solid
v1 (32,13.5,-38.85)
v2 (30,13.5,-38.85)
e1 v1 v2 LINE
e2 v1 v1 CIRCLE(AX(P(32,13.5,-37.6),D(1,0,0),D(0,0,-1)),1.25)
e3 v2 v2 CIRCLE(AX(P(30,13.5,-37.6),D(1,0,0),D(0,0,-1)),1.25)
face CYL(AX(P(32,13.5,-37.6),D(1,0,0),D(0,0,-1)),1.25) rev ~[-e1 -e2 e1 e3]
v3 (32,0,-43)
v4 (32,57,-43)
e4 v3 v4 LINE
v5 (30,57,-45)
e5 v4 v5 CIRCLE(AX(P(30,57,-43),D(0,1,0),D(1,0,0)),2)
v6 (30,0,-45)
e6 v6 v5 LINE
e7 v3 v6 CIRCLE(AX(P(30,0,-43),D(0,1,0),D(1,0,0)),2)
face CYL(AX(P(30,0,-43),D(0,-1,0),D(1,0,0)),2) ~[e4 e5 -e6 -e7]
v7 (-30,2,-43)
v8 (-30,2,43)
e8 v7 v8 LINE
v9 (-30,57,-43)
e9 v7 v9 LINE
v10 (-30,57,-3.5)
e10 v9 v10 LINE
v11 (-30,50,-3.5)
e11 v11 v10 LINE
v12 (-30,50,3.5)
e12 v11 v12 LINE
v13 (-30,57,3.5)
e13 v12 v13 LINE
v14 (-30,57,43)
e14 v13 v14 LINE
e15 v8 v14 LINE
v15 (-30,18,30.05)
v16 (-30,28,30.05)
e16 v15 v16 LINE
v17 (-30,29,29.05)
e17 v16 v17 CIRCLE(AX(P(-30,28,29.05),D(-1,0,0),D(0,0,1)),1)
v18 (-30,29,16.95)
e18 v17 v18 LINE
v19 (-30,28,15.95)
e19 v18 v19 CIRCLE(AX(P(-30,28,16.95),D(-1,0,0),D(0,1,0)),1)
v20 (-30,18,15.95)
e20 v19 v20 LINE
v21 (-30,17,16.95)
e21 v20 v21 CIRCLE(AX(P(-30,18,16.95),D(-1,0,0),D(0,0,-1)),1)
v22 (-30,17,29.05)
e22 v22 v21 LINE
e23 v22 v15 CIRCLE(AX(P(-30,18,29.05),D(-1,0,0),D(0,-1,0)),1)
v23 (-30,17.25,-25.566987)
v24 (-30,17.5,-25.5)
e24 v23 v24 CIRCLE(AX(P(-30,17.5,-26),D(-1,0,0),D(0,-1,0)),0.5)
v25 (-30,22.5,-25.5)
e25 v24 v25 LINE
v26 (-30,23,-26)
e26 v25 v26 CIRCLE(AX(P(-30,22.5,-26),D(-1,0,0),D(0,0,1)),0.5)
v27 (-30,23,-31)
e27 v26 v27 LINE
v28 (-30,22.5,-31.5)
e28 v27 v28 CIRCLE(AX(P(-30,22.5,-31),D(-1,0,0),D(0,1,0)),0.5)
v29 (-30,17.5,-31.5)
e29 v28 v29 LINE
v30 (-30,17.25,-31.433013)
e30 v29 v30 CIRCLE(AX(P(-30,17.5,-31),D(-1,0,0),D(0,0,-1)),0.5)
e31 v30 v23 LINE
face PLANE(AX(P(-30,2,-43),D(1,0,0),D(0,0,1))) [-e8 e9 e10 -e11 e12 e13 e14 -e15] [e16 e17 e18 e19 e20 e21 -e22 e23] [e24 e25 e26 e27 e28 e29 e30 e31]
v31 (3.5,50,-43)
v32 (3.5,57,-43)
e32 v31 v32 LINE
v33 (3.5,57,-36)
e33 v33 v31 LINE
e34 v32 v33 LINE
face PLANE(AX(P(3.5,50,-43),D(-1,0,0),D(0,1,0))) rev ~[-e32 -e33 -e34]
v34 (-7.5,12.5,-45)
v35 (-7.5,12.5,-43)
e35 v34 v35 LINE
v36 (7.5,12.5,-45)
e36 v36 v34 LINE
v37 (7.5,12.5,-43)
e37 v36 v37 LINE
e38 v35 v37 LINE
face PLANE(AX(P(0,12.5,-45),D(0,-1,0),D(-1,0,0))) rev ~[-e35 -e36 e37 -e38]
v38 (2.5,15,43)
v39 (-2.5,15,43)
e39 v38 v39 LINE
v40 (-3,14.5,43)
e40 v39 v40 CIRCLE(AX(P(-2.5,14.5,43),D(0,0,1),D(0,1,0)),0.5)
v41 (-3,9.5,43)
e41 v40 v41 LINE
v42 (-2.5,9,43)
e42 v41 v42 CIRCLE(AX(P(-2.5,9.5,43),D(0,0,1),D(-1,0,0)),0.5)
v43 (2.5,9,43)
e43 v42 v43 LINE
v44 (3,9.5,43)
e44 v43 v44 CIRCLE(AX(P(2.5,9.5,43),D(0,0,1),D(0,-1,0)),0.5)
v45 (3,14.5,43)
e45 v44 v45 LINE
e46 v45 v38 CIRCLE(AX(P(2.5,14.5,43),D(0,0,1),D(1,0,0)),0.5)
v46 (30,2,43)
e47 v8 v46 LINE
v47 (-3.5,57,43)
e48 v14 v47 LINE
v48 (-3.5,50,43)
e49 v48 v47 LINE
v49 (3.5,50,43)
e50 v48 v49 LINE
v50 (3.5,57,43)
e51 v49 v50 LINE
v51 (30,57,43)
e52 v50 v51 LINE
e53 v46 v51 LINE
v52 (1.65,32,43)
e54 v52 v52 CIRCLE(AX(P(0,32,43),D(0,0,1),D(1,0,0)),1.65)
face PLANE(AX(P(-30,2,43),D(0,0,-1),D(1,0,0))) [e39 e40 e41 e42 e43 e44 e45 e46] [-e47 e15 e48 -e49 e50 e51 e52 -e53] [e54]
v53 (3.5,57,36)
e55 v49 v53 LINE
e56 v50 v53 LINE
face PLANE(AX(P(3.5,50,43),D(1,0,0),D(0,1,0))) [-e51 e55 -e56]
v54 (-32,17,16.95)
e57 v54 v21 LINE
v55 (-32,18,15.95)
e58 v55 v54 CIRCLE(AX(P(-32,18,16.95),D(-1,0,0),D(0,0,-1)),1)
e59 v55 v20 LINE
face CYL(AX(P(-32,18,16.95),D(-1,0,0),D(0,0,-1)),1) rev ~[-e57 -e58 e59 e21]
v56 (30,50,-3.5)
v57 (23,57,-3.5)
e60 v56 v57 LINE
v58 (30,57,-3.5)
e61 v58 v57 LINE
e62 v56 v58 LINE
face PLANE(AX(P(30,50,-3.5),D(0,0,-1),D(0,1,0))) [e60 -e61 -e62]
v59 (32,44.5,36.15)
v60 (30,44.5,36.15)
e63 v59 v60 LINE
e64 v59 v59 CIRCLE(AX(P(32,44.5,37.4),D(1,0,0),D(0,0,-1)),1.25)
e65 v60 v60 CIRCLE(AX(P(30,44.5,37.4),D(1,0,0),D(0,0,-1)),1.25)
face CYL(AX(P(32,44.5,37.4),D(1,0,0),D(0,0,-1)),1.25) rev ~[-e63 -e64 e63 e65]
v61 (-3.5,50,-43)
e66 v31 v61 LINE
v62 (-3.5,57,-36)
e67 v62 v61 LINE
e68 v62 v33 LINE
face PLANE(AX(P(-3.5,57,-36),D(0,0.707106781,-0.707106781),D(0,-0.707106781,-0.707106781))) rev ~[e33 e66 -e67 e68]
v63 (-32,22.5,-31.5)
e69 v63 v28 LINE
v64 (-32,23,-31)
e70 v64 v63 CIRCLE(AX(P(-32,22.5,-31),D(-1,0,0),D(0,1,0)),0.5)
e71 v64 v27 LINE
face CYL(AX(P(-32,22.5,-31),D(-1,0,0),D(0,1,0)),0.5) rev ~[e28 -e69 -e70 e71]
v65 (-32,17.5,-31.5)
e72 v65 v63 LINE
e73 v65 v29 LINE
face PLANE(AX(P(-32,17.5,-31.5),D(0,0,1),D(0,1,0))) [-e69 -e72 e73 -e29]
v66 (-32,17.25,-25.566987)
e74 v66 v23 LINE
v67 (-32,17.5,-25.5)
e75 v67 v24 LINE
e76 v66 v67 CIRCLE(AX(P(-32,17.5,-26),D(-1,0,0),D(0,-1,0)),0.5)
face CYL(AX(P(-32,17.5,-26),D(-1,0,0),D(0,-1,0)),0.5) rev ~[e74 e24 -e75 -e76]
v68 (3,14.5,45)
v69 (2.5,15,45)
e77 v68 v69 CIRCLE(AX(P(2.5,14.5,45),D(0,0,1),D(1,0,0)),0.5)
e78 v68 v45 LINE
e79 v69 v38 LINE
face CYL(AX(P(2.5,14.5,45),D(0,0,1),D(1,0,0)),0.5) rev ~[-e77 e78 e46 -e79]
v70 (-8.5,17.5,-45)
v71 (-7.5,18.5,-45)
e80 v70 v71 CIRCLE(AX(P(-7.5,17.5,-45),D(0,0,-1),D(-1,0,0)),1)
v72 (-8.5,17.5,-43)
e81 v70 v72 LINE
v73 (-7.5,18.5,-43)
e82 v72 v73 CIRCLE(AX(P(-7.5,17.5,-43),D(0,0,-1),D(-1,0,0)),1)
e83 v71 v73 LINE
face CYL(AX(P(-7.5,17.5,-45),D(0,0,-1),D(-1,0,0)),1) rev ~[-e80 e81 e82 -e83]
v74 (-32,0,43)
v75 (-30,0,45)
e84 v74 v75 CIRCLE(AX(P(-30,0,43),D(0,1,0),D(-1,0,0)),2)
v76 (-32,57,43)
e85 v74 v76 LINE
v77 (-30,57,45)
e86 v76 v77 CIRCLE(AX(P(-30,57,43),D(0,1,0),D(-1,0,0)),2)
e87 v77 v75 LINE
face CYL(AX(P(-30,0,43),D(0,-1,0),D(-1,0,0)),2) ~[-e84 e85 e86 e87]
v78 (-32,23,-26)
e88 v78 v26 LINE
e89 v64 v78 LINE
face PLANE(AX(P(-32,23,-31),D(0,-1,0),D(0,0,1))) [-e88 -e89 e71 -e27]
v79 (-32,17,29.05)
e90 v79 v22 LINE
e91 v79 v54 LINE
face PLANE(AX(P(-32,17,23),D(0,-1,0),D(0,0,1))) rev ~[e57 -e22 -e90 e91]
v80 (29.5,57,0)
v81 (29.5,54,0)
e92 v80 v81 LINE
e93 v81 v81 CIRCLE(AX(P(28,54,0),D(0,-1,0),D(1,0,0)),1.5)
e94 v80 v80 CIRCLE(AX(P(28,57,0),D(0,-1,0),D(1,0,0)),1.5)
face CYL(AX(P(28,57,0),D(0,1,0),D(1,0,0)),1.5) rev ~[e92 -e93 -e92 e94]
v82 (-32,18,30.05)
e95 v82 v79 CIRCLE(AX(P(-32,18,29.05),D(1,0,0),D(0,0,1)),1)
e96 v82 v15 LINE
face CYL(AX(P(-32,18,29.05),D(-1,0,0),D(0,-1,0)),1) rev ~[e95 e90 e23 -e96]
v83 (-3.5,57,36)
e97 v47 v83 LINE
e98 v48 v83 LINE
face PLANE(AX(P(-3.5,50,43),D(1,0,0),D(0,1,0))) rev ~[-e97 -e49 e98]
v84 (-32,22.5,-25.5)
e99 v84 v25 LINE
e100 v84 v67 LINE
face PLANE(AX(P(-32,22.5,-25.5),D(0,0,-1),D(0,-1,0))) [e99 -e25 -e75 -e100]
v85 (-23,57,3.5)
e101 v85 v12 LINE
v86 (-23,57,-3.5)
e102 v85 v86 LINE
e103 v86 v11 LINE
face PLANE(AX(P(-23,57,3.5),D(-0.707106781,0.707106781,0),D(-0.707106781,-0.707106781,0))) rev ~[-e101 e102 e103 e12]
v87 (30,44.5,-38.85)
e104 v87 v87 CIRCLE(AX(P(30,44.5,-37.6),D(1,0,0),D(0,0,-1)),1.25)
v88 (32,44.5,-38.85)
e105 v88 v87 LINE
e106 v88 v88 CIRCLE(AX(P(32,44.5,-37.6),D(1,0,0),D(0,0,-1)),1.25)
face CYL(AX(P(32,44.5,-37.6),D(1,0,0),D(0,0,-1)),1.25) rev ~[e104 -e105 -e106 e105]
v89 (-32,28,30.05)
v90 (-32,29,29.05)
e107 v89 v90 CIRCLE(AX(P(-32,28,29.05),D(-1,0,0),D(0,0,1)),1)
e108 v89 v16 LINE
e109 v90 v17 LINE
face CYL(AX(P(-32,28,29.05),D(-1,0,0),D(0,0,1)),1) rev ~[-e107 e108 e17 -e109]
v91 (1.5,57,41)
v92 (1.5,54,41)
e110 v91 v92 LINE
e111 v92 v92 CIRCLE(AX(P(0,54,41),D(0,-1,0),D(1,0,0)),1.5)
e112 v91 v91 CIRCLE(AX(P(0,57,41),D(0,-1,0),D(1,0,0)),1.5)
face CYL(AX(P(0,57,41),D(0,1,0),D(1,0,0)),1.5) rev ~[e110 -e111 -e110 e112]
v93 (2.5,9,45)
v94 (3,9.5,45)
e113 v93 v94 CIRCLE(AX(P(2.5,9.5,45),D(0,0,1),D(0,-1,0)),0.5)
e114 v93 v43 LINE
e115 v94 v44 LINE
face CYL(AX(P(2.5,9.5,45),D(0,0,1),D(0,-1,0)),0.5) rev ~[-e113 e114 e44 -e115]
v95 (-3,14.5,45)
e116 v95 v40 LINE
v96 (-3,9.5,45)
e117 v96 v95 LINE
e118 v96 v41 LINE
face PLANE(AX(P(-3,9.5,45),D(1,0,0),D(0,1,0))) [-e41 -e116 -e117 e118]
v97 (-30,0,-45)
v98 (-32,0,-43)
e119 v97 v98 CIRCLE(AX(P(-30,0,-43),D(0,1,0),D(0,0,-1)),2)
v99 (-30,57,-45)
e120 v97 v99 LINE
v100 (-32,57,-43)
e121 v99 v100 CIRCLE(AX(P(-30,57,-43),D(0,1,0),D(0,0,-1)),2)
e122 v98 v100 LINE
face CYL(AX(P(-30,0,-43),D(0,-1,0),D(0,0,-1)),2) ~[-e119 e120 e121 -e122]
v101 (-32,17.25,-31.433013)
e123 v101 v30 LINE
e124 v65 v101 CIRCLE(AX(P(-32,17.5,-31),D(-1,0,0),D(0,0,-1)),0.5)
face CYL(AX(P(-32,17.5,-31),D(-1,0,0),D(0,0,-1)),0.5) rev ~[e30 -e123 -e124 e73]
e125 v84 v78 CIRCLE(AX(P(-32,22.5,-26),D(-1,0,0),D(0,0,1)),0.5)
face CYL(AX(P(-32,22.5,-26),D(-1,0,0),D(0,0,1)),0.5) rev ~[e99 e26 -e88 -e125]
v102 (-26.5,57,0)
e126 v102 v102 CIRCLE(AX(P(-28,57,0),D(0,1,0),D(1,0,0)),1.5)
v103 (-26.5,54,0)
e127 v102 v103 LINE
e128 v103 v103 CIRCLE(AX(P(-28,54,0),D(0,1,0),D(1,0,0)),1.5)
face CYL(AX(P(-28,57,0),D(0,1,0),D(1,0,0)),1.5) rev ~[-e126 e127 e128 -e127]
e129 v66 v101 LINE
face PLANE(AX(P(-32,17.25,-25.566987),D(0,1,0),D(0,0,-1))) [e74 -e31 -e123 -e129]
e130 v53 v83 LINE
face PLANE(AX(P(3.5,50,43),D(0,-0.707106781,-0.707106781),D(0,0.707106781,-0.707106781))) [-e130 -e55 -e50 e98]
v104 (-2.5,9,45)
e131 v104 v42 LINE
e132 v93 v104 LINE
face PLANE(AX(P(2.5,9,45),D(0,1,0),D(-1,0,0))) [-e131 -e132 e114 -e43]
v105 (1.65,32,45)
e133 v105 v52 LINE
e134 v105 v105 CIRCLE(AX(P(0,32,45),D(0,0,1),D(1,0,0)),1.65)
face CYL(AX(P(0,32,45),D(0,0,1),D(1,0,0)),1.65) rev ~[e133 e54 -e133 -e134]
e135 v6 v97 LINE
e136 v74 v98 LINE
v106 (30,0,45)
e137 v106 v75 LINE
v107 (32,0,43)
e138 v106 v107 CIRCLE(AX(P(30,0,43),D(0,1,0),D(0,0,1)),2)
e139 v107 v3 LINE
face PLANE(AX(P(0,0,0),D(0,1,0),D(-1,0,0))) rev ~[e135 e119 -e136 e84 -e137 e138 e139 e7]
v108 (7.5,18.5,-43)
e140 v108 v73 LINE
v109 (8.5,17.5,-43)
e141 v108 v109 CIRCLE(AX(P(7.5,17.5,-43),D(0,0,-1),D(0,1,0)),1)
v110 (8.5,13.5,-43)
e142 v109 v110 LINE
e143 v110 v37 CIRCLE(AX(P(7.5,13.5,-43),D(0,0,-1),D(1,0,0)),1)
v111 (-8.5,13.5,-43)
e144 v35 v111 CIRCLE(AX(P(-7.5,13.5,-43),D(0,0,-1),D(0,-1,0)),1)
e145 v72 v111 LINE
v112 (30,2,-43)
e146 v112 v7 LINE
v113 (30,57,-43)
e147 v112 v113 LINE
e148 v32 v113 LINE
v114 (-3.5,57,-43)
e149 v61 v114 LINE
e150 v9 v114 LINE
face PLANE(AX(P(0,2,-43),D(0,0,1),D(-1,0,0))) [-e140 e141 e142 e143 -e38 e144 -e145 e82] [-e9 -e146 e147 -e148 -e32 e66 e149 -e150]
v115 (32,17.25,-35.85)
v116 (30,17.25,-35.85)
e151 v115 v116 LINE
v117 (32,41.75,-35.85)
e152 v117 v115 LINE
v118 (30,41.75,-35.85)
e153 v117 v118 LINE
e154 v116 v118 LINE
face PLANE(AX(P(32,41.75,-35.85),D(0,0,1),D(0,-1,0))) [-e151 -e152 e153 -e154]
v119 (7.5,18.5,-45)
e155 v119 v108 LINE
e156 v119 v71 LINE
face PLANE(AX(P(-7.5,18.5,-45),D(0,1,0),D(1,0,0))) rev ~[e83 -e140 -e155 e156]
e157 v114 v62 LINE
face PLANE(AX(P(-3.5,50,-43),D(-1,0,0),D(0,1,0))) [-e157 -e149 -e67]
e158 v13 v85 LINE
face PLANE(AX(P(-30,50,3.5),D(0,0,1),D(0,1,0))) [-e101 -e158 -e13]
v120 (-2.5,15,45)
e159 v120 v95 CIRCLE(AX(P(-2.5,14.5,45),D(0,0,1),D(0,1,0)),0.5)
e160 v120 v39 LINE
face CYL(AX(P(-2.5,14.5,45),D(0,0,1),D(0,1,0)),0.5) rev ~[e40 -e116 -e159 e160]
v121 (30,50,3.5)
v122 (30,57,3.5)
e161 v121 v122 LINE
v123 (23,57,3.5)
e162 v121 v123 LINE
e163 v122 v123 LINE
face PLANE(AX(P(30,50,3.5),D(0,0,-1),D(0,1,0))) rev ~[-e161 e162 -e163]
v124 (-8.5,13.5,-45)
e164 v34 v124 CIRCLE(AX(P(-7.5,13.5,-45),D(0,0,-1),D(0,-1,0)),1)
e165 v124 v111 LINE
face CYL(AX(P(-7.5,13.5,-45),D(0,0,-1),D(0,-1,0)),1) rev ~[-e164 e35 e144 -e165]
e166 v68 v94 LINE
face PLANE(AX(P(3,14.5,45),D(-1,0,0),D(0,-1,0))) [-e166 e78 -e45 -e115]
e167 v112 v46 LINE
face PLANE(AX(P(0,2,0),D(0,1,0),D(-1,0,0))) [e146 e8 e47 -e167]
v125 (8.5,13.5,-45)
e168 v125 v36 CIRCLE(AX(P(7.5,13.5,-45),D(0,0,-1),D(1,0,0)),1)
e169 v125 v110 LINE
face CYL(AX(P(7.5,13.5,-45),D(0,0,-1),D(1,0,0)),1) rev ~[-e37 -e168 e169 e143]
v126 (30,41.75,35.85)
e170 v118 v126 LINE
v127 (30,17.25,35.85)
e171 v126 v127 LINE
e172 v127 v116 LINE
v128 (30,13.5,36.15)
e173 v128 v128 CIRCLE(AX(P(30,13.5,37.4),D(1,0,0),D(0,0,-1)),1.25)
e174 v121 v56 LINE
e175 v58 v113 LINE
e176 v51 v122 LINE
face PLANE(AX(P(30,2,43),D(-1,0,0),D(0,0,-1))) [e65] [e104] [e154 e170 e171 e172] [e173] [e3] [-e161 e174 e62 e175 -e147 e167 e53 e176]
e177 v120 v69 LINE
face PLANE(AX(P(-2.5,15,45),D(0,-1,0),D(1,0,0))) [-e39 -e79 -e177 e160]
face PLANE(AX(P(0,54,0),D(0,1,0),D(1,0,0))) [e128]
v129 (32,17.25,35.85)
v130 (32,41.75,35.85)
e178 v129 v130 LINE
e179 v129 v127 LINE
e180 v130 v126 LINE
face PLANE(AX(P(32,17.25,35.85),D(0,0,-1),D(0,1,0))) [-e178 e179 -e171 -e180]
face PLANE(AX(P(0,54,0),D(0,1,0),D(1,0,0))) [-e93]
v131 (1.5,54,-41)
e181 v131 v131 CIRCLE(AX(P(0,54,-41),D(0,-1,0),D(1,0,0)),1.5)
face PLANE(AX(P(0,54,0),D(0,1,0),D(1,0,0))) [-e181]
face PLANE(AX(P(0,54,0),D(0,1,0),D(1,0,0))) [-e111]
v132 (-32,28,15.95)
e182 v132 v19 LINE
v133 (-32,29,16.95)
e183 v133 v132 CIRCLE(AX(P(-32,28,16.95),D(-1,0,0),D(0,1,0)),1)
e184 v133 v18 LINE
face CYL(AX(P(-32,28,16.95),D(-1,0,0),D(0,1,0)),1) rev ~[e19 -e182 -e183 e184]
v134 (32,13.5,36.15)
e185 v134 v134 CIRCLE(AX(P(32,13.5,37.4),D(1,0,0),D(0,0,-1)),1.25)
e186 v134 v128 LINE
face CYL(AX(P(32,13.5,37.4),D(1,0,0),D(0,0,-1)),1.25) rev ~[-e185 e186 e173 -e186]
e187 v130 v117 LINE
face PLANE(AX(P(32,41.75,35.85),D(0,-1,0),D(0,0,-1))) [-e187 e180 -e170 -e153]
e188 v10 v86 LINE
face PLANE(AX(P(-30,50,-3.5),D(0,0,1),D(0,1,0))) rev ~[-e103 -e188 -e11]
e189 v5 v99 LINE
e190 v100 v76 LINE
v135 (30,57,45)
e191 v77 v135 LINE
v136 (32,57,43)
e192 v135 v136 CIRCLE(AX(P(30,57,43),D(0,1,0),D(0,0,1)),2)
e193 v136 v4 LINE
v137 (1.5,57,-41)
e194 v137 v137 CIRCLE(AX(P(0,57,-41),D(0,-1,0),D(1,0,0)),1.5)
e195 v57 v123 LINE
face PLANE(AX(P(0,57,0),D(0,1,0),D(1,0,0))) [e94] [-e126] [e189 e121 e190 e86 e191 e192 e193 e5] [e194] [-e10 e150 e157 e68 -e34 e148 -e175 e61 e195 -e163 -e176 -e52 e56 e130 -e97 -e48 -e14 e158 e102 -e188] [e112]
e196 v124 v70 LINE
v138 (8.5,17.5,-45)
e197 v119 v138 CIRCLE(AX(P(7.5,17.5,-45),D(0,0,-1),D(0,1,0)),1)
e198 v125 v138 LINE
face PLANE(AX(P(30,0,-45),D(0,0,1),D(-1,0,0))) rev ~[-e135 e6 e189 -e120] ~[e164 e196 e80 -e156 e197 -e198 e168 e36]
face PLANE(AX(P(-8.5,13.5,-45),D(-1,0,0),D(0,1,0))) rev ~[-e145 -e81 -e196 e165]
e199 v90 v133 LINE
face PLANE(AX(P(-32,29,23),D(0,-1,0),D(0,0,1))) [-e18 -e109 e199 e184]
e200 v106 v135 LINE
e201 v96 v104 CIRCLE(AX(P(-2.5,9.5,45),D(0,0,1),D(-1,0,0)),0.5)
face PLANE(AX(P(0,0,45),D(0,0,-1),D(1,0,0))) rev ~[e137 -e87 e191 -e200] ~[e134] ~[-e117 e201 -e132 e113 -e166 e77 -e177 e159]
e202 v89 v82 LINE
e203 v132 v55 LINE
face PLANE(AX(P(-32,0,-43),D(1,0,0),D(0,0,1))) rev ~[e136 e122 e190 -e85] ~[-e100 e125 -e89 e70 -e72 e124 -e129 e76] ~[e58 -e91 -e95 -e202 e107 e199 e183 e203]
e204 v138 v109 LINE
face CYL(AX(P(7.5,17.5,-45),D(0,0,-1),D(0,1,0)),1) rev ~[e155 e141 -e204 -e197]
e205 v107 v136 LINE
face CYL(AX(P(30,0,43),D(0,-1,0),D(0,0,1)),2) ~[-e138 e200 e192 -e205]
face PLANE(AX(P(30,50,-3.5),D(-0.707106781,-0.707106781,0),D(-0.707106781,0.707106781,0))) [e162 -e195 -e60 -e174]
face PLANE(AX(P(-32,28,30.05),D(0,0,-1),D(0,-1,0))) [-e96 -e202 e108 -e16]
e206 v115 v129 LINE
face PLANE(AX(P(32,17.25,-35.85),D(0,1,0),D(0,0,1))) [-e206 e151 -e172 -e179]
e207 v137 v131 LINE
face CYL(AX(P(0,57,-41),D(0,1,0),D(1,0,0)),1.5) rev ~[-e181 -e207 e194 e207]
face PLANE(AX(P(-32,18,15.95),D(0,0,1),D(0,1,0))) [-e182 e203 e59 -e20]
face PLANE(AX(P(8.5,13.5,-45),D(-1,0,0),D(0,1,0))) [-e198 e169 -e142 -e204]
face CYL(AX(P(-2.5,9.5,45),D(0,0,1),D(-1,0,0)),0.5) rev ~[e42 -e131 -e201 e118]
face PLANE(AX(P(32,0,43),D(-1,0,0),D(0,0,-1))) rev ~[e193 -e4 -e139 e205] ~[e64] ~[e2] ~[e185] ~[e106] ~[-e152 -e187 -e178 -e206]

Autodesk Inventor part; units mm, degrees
ref_plane "YZ Plane" through (0, 0, 0) normal (1, 0, 0) x (0, 1, 0)
ref_plane "XZ Plane" through (0, 0, 0) normal (0, 1, 0) x (-1, 0, 0)
ref_plane "XY Plane" through (0, 0, 0) normal (0, 0, 1) x (1, 0, 0)
sketch "Sketch1" plane through (0, 0, 0) normal (0, 1, 0) x (-1, 0, 0)
  line L0 (-30, -43) -> (30, -43)
  line L1 (30, -43) -> (30, 43)
  line L2 (30, 43) -> (-30, 43)
  line L3 (-30, 43) -> (-30, -43)
  line L4 (-30, -43) -> (30, 43) construction
  line L5 (30, -43) -> (-30, 43) construction
  line L6 (0, 43) -> (0, 45)
  line L7 (30, 0) -> (32, 0)
  line L8 (-30, -45) -> (30, -45)
  line L9 (32, -43) -> (32, 43)
  line L10 (30, 45) -> (-30, 45)
  line L11 (-32, 43) -> (-32, -43)
  line L12 (-32, -45) -> (32, 45) construction
  line L13 (32, -45) -> (-32, 45) construction
  arc A0 (-32, -43) -> (-30, -45) centre (-30, -43) ccw
  arc A1 (30, -45) -> (32, -43) centre (30, -43) ccw
  arc A2 (32, 43) -> (30, 45) centre (30, 43) ccw
  arc A3 (-30, 45) -> (-32, 43) centre (-30, 43) ccw
  point P0 (0, 0)
  dimension "d0" = 60
  dimension "d1" = 86
  dimension "d3" = 2
  dimension "d4" = 2
  dimension "d26" = 2
extrude "Extrusion1" add sketch "Sketch1" along normal blind 2
sketch "Sketch2" plane through (0, 2, 0) normal (0, 1, 0) x (1, 0, 0)
  line L0 (-30, -43) -> (30, -43)
  line L1 (30, -43) -> (30, 43)
  line L2 (30, 43) -> (-30, 43)
  line L3 (-30, 43) -> (-30, -43)
  line L4 (-30, -43) -> (30, 43) construction
  line L5 (30, -43) -> (-30, 43) construction
  line L6 (0, 43) -> (0, 45)
  line L7 (30, 0) -> (32, 0)
  line L8 (-30, -45) -> (30, -45)
  line L9 (32, -43) -> (32, 43)
  line L10 (30, 45) -> (-30, 45)
  line L11 (-32, 43) -> (-32, -43)
  line L12 (-32, -45) -> (32, 45) construction
  line L13 (32, -45) -> (-32, 45) construction
  arc A0 (32, 43) -> (30, 45) centre (30, 43) ccw
  arc A1 (-30, 45) -> (-32, 43) centre (-30, 43) ccw
  arc A2 (-32, -43) -> (-30, -45) centre (-30, -43) ccw
  arc A3 (30, -45) -> (32, -43) centre (30, -43) ccw
  point P0 (0, 0)
  point P1 (0, 0)
  dimension "d7" = 60
  dimension "d8" = 86
  dimension "d9" = 2
  dimension "d10" = 2
  dimension "d27" = 2
extrude "Extrusion2" add sketch "Sketch2" along normal blind 55 contours L0 L1 L7 L9 A3 L8 A2 L11 A1 L10 L6 L2 L3 | L1 L2 L6 L10 A0 L9 L7
sketch "Sketch3" plane through (32, 0, 45) normal (1, 0, 0) x (0, 0, -1)
  line L0 (2, 57) -> (88, 57) projected
  line L1 (2, 0) -> (88, 0) projected
  line L2 (107.729, 73.7861) -> (177.229, 73.7861)
  line L3 (106.879, 66.2861) -> (106.879, 57.2861)
  line L4 (106.879, 66.2861) -> (106.879, 72.9361)
  line L5 (106.879, 50.6361) -> (106.879, 57.2861)
  line L6 (177.229, 49.7861) -> (107.729, 49.7861)
  line L7 (178.079, 72.9361) -> (178.079, 50.6361)
  line L8 (142.479, 73.7861) -> (142.479, 49.7861)
  line L9 (178.079, 49.7861) -> (106.879, 49.7861)
  line L10 (106.879, 49.7861) -> (106.879, 73.7861)
  line L11 (106.879, 73.7861) -> (178.079, 73.7861)
  line L12 (178.079, 73.7861) -> (178.079, 49.7861)
  line L13 (178.079, 49.7861) -> (106.879, 73.7861) construction
  line L14 (106.879, 49.7861) -> (178.079, 73.7861) construction
  line L15 (177.069, 73.2861) -> (107.389, 73.2861)
  line L16 (82.6, 47) -> (52.1, 47)
  line L17 (7.6, 11) -> (82.6, 11)
  line L18 (7.6, 11) -> (82.6, 11)
  circle A0 centre (7.6, 44.5) radius 1.25
  line L19 (5.1, 44.5) -> (5.1, 13.5)
  line L20 (7.6, 11) -> (82.6, 11)
  line L21 (5.1, 11) -> (7.6, 11)
  circle A1 centre (7.6, 13.5) radius 1.25
  line L22 (5.1, 13.5) -> (5.1, 11)
  line L23 (82.6, 11) -> (85.1, 11)
  circle A2 centre (82.6, 13.5) radius 1.25
  circle A3 centre (82.6, 44.5) radius 1.25
  line L24 (85.1, 47) -> (82.6, 47)
  circle A4 centre (7.6, 44.5) radius 1.25
  line L25 (85.1, 47) -> (85.1, 11)
  line L26 (52.1, 47) -> (5.1, 47)
  line L27 (5.1, 47) -> (5.1, 44.5)
  line L28 (80.85, 17.25) -> (9.15, 17.25)
  line L29 (9.15, 17.25) -> (9.15, 41.75)
  line L30 (9.15, 41.75) -> (80.85, 41.75)
  line L31 (80.85, 41.75) -> (80.85, 17.25)
  line L32 (80.85, 17.25) -> (9.15, 41.75) construction
  line L33 (9.15, 17.25) -> (80.85, 41.75) construction
  point P0 (45, 0)
  point P1 (0, 57)
  point P2 (90, 57)
  point P3 (0, 0)
  point P4 (90, 0)
  point P5 (142.479, 61.7861)
  point P6 (45, 29.5)
  dimension "d21" = 71.7
  dimension "d22" = 24.5
  dimension "d100" = 2.5
extrude "Extrusion3" cut sketch "Sketch3" against normal blind 10 contours A0 | A1 | A2 | A3 | L28 L29 L30 L31
sketch "Sketch4" plane through (32, 0, -45) normal (0, 0, -1) x (-1, 0, 0)
  line L0 (32, 0) -> (32, 12.5)
  line L1 (32, 12.5) -> (39.5, 12.5)
  line L2 (40.5, 13.5) -> (40.5, 17.5)
  line L3 (39.5, 18.5) -> (32, 18.5)
  line L4 (32, 18.5) -> (32, 12.5)
  line L5 (32, 12.5) -> (24.5, 12.5)
  line L6 (23.5, 13.5) -> (23.5, 17.5)
  line L7 (24.5, 18.5) -> (32, 18.5)
  arc A0 (24.5, 18.5) -> (23.5, 17.5) centre (24.5, 17.5) ccw
  arc A1 (23.5, 13.5) -> (24.5, 12.5) centre (24.5, 13.5) ccw
  arc A2 (39.5, 12.5) -> (40.5, 13.5) centre (39.5, 13.5) ccw
  arc A3 (40.5, 17.5) -> (39.5, 18.5) centre (39.5, 17.5) ccw
  point P0 (40.5, 18.5)
  point P1 (40.5, 12.5)
  point P2 (23.5, 18.5)
  point P3 (23.5, 12.5)
  dimension "d23" = 12.5
  dimension "d24" = 8.5
  dimension "d25" = 6
  dimension "d28" = 1
extrude "Extrusion4" cut sketch "Sketch4" against normal blind 10
sketch "Sketch5" plane through (-32, 0, -43) normal (-1, 0, 0) x (0, 0, 1)
  line L0 (0, 2) -> (86, 2) projected
  line L1 (86, 2) -> (66, 2)
  line L2 (66, 17) -> (72.05, 17)
  line L3 (66, 17) -> (59.95, 17)
  line L4 (58.95, 18) -> (58.95, 28)
  line L5 (59.95, 29) -> (72.05, 29)
  line L6 (73.05, 28) -> (73.05, 18)
  arc A0 (59.95, 29) -> (58.95, 28) centre (59.95, 28) ccw
  arc A1 (73.05, 28) -> (72.05, 29) centre (72.05, 28) ccw
  arc A2 (58.95, 18) -> (59.95, 17) centre (59.95, 18) ccw
  arc A3 (72.05, 17) -> (73.05, 18) centre (72.05, 18) ccw
  line L7 (66, 29) -> (66, 17)
  line L8 (66, 23) -> (58.95, 23)
  line L9 (78.85, 17.25) -> (7.15, 17.25) projected
  line L10 (66, 17) -> (67, 17) construction
  line L11 (15, 17) -> (16, 17)
  line L12 (17, 17) -> (12, 17)
  line L13 (11.5, 17.5) -> (11.5, 22.5)
  line L14 (12, 23) -> (17, 23)
  line L15 (17.5, 22.5) -> (17.5, 17.5)
  arc A4 (11.5, 17.5) -> (12, 17) centre (12, 17.5) ccw
  arc A5 (17, 17) -> (17.5, 17.5) centre (17, 17.5) ccw
  arc A6 (12, 23) -> (11.5, 22.5) centre (12, 22.5) ccw
  arc A7 (17.5, 22.5) -> (17, 23) centre (17, 22.5) ccw
  point P0 (43, 0)
  point P1 (73.05, 17)
  point P2 (58.95, 17)
  point P3 (58.95, 29)
  point P4 (14.5, 20)
  point P5 (17.5, 20)
  point P6 (11.5, 23)
  point P7 (11.5, 17)
  point P8 (17.5, 23)
  point P9 (11.567, 17.25)
  point P10 (17.433, 17.25)
  dimension "d31" = 20
  dimension "d32" = 15
  dimension "d33" = 7.05
  dimension "d34" = 12
  dimension "d35" = 1
  dimension "d83" = 50
  dimension "d89" = 6
  dimension "d90" = 6
  dimension "d91" = 0.5
extrude "Extrusion5" cut sketch "Sketch5" against normal blind 10 contours L7 L9 A3 L2 | L9 A4 L13 A6 L14 A7 L15 A5 | L3 A2 L9 L7 | L9 A2 L4 L8 L7 | L7 L5 A1 L6 A3 L9 | L8 L4 A0 L5 L7
sketch "Sketch6" plane through (-30, 2, 43) normal (1, 0, 0) x (0, 0, -1)
  line L0 (0, 55) -> (86, 55) projected
  line L1 (43, 55) -> (43, 48)
  line L2 (43, 48) -> (39.5, 48)
  line L3 (39.5, 48) -> (39.5, 55)
  line L4 (43, 48) -> (46.5, 48)
  line L5 (46.5, 48) -> (46.5, 55)
  point P0 (43, -2)
  dimension "d38" = 7
  dimension "d39" = 3.5
extrude "Extrusion6" add sketch "Sketch6" along normal blind 7
sketch "Sketch8" plane through (-30, 50, 3.5) normal (0, 0, 1) x (1, 0, 0)
  line L0 (7, 7) -> (7, 0) projected
  line L1 (0, 0) -> (7, 0) projected
  line L2 (0, 0) -> (0, 7) projected
  line L3 (0, 7) -> (7, 7) projected
  line L4 (7, 7) -> (0, 0)
  point P0 (30, -50)
extrude "Extrusion7" cut sketch "Sketch8" against normal blind 7 contours L0 L1 L4
sketch "Sketch9" plane through (0, 57, 0) normal (0, 1, 0) x (1, 0, 0)
  line L0 (-30, 3.5) -> (-23, 3.5) projected
  line L1 (-30, -3.5) -> (-23, -3.5) projected
  line L2 (-23, 3.5) -> (-23, -3.5) projected
  line L3 (-30, 3.5) -> (-30, -3.5)
  line L4 (-30, 43) -> (-30, -43) projected
  line L5 (-23, 0) -> (-28, 0)
  circle A0 centre (-28, 0) radius 1.5
  point P0 (0, 0)
  dimension "d47" = 5
  dimension "d48" = 3
extrude "Extrusion8" cut sketch "Sketch9" against normal blind 3 contours A0
sketch "Sketch11" plane through (-30, 2, -43) normal (0, 0, 1) x (1, 0, 0)
  line L0 (0, 55) -> (60, 55) projected
  line L1 (30, 55) -> (30, 48)
  line L2 (30, 48) -> (33.5, 48)
  line L3 (33.5, 48) -> (33.5, 55)
  line L4 (30, 48) -> (26.5, 48)
  line L5 (26.5, 48) -> (26.5, 55)
  point P0 (30, -2)
  dimension "d49" = 7
  dimension "d50" = 3.5
  dimension "d51" = 3.5
extrude "Extrusion9" add sketch "Sketch11" along normal blind 7
sketch "Sketch12" plane through (-3.5, 50, -43) normal (-1, 0, 0) x (0, 0, 1)
  line L0 (7, 7) -> (7, 0) projected
  line L1 (0, 0) -> (7, 0) projected
  line L2 (7, 7) -> (0, 0)
  point P0 (43, -50)
extrude "Extrusion10" cut sketch "Sketch12" against normal blind 7
sketch "Sketch13" plane through (0, 57, 0) normal (0, 1, 0) x (1, 0, 0)
  line L0 (3.5, 36) -> (-3.5, 36) projected
  line L1 (0, 36) -> (0, 41)
  circle A0 centre (0, 41) radius 1.5
  point P0 (0, 0)
  dimension "d56" = 5
  dimension "d57" = 3
extrude "Extrusion11" cut sketch "Sketch13" against normal blind 3
sketch "Sketch14" plane through (30, 2, -43) normal (-1, 0, 0) x (0, 0, 1)
  line L0 (0, 55) -> (86, 55) projected
  line L1 (43, 55) -> (43, 48)
  line L2 (43, 48) -> (46.5, 48)
  line L3 (46.5, 48) -> (46.5, 55)
  line L4 (43, 48) -> (39.5, 48)
  line L5 (39.5, 48) -> (39.5, 55)
  point P0 (43, -2)
  dimension "d60" = 7
  dimension "d61" = 3.5
extrude "Extrusion12" add sketch "Sketch14" along normal blind 7
sketch "Sketch17" plane through (30, 50, -3.5) normal (0, 0, -1) x (-1, 0, 0)
  line L0 (7, 7) -> (7, 0) projected
  line L1 (0, 0) -> (7, 0) projected
  line L2 (0, 0) -> (7, 7)
  point P0 (30, -50)
extrude "Extrusion13" cut sketch "Sketch17" against normal blind 7
sketch "Sketch18" plane through (0, 57, 0) normal (0, 1, 0) x (1, 0, 0)
  line L0 (23, -3.5) -> (23, 3.5) projected
  line L1 (23, 0) -> (28, 0)
  circle A0 centre (28, 0) radius 1.5
  point P0 (0, 0)
  dimension "d66" = 5
  dimension "d67" = 3
extrude "Extrusion14" cut sketch "Sketch18" against normal blind 3
sketch "Sketch19" plane through (30, 2, 43) normal (0, 0, -1) x (-1, 0, 0)
  line L0 (0, 55) -> (60, 55) projected
  line L1 (30, 55) -> (30, 48)
  line L2 (30, 48) -> (33.5, 48)
  line L3 (33.5, 48) -> (33.5, 55)
  line L4 (30, 48) -> (26.5, 48)
  line L5 (26.5, 48) -> (26.5, 55)
  point P0 (30, -2)
  dimension "d70" = 7
  dimension "d71" = 3.5
extrude "Extrusion15" add sketch "Sketch19" along normal blind 7
sketch "Sketch20" plane through (3.5, 50, 43) normal (1, 0, 0) x (0, 0, -1)
  line L0 (7, 7) -> (7, 0) projected
  line L1 (0, 0) -> (7, 0) projected
  line L2 (0, 0) -> (7, 7)
  point P0 (43, -50)
extrude "Extrusion16" cut sketch "Sketch20" against normal blind 7
sketch "Sketch21" plane through (0, 57, 0) normal (0, 1, 0) x (1, 0, 0)
  line L0 (-3.5, -36) -> (3.5, -36) projected
  line L1 (-3.5, -43) -> (-3.5, -36) projected
  line L2 (3.5, -43) -> (3.5, -36) projected
  line L3 (0, -36) -> (0, -41)
  circle A0 centre (0, -41) radius 1.5
  point P0 (0, 0)
  dimension "d76" = 5
  dimension "d77" = 3
extrude "Extrusion17" cut sketch "Sketch21" against normal blind 3
sketch "Sketch23" plane through (-30, 0, 45) normal (0, 0, 1) x (1, 0, 0)
  line L0 (0, 2) -> (60, 2) projected
  line L1 (0, 57) -> (60, 57) projected
  line L2 (30, 2) -> (30, 12)
  circle A0 centre (30, 32) radius 1.65
  line L3 (32.5, 9) -> (27.5, 9)
  line L4 (27, 9.5) -> (27, 14.5)
  line L5 (27.5, 15) -> (32.5, 15)
  line L6 (33, 14.5) -> (33, 9.5)
  line L7 (33, 9) -> (27, 15) construction
  line L8 (27, 9) -> (33, 15) construction
  arc A1 (33, 14.5) -> (32.5, 15) centre (32.5, 14.5) ccw
  arc A2 (27.5, 15) -> (27, 14.5) centre (27.5, 14.5) ccw
  arc A3 (27, 9.5) -> (27.5, 9) centre (27.5, 9.5) ccw
  arc A4 (32.5, 9) -> (33, 9.5) centre (32.5, 9.5) ccw
  point P0 (30, 0)
  dimension "d92" = 10
  dimension "d94" = 3.3
  dimension "d95" = 6
  dimension "d96" = 6
  dimension "d97" = 0.5
extrude "Extrusion18" cut sketch "Sketch23" against normal blind 10
properties part number "Case Bottom"
